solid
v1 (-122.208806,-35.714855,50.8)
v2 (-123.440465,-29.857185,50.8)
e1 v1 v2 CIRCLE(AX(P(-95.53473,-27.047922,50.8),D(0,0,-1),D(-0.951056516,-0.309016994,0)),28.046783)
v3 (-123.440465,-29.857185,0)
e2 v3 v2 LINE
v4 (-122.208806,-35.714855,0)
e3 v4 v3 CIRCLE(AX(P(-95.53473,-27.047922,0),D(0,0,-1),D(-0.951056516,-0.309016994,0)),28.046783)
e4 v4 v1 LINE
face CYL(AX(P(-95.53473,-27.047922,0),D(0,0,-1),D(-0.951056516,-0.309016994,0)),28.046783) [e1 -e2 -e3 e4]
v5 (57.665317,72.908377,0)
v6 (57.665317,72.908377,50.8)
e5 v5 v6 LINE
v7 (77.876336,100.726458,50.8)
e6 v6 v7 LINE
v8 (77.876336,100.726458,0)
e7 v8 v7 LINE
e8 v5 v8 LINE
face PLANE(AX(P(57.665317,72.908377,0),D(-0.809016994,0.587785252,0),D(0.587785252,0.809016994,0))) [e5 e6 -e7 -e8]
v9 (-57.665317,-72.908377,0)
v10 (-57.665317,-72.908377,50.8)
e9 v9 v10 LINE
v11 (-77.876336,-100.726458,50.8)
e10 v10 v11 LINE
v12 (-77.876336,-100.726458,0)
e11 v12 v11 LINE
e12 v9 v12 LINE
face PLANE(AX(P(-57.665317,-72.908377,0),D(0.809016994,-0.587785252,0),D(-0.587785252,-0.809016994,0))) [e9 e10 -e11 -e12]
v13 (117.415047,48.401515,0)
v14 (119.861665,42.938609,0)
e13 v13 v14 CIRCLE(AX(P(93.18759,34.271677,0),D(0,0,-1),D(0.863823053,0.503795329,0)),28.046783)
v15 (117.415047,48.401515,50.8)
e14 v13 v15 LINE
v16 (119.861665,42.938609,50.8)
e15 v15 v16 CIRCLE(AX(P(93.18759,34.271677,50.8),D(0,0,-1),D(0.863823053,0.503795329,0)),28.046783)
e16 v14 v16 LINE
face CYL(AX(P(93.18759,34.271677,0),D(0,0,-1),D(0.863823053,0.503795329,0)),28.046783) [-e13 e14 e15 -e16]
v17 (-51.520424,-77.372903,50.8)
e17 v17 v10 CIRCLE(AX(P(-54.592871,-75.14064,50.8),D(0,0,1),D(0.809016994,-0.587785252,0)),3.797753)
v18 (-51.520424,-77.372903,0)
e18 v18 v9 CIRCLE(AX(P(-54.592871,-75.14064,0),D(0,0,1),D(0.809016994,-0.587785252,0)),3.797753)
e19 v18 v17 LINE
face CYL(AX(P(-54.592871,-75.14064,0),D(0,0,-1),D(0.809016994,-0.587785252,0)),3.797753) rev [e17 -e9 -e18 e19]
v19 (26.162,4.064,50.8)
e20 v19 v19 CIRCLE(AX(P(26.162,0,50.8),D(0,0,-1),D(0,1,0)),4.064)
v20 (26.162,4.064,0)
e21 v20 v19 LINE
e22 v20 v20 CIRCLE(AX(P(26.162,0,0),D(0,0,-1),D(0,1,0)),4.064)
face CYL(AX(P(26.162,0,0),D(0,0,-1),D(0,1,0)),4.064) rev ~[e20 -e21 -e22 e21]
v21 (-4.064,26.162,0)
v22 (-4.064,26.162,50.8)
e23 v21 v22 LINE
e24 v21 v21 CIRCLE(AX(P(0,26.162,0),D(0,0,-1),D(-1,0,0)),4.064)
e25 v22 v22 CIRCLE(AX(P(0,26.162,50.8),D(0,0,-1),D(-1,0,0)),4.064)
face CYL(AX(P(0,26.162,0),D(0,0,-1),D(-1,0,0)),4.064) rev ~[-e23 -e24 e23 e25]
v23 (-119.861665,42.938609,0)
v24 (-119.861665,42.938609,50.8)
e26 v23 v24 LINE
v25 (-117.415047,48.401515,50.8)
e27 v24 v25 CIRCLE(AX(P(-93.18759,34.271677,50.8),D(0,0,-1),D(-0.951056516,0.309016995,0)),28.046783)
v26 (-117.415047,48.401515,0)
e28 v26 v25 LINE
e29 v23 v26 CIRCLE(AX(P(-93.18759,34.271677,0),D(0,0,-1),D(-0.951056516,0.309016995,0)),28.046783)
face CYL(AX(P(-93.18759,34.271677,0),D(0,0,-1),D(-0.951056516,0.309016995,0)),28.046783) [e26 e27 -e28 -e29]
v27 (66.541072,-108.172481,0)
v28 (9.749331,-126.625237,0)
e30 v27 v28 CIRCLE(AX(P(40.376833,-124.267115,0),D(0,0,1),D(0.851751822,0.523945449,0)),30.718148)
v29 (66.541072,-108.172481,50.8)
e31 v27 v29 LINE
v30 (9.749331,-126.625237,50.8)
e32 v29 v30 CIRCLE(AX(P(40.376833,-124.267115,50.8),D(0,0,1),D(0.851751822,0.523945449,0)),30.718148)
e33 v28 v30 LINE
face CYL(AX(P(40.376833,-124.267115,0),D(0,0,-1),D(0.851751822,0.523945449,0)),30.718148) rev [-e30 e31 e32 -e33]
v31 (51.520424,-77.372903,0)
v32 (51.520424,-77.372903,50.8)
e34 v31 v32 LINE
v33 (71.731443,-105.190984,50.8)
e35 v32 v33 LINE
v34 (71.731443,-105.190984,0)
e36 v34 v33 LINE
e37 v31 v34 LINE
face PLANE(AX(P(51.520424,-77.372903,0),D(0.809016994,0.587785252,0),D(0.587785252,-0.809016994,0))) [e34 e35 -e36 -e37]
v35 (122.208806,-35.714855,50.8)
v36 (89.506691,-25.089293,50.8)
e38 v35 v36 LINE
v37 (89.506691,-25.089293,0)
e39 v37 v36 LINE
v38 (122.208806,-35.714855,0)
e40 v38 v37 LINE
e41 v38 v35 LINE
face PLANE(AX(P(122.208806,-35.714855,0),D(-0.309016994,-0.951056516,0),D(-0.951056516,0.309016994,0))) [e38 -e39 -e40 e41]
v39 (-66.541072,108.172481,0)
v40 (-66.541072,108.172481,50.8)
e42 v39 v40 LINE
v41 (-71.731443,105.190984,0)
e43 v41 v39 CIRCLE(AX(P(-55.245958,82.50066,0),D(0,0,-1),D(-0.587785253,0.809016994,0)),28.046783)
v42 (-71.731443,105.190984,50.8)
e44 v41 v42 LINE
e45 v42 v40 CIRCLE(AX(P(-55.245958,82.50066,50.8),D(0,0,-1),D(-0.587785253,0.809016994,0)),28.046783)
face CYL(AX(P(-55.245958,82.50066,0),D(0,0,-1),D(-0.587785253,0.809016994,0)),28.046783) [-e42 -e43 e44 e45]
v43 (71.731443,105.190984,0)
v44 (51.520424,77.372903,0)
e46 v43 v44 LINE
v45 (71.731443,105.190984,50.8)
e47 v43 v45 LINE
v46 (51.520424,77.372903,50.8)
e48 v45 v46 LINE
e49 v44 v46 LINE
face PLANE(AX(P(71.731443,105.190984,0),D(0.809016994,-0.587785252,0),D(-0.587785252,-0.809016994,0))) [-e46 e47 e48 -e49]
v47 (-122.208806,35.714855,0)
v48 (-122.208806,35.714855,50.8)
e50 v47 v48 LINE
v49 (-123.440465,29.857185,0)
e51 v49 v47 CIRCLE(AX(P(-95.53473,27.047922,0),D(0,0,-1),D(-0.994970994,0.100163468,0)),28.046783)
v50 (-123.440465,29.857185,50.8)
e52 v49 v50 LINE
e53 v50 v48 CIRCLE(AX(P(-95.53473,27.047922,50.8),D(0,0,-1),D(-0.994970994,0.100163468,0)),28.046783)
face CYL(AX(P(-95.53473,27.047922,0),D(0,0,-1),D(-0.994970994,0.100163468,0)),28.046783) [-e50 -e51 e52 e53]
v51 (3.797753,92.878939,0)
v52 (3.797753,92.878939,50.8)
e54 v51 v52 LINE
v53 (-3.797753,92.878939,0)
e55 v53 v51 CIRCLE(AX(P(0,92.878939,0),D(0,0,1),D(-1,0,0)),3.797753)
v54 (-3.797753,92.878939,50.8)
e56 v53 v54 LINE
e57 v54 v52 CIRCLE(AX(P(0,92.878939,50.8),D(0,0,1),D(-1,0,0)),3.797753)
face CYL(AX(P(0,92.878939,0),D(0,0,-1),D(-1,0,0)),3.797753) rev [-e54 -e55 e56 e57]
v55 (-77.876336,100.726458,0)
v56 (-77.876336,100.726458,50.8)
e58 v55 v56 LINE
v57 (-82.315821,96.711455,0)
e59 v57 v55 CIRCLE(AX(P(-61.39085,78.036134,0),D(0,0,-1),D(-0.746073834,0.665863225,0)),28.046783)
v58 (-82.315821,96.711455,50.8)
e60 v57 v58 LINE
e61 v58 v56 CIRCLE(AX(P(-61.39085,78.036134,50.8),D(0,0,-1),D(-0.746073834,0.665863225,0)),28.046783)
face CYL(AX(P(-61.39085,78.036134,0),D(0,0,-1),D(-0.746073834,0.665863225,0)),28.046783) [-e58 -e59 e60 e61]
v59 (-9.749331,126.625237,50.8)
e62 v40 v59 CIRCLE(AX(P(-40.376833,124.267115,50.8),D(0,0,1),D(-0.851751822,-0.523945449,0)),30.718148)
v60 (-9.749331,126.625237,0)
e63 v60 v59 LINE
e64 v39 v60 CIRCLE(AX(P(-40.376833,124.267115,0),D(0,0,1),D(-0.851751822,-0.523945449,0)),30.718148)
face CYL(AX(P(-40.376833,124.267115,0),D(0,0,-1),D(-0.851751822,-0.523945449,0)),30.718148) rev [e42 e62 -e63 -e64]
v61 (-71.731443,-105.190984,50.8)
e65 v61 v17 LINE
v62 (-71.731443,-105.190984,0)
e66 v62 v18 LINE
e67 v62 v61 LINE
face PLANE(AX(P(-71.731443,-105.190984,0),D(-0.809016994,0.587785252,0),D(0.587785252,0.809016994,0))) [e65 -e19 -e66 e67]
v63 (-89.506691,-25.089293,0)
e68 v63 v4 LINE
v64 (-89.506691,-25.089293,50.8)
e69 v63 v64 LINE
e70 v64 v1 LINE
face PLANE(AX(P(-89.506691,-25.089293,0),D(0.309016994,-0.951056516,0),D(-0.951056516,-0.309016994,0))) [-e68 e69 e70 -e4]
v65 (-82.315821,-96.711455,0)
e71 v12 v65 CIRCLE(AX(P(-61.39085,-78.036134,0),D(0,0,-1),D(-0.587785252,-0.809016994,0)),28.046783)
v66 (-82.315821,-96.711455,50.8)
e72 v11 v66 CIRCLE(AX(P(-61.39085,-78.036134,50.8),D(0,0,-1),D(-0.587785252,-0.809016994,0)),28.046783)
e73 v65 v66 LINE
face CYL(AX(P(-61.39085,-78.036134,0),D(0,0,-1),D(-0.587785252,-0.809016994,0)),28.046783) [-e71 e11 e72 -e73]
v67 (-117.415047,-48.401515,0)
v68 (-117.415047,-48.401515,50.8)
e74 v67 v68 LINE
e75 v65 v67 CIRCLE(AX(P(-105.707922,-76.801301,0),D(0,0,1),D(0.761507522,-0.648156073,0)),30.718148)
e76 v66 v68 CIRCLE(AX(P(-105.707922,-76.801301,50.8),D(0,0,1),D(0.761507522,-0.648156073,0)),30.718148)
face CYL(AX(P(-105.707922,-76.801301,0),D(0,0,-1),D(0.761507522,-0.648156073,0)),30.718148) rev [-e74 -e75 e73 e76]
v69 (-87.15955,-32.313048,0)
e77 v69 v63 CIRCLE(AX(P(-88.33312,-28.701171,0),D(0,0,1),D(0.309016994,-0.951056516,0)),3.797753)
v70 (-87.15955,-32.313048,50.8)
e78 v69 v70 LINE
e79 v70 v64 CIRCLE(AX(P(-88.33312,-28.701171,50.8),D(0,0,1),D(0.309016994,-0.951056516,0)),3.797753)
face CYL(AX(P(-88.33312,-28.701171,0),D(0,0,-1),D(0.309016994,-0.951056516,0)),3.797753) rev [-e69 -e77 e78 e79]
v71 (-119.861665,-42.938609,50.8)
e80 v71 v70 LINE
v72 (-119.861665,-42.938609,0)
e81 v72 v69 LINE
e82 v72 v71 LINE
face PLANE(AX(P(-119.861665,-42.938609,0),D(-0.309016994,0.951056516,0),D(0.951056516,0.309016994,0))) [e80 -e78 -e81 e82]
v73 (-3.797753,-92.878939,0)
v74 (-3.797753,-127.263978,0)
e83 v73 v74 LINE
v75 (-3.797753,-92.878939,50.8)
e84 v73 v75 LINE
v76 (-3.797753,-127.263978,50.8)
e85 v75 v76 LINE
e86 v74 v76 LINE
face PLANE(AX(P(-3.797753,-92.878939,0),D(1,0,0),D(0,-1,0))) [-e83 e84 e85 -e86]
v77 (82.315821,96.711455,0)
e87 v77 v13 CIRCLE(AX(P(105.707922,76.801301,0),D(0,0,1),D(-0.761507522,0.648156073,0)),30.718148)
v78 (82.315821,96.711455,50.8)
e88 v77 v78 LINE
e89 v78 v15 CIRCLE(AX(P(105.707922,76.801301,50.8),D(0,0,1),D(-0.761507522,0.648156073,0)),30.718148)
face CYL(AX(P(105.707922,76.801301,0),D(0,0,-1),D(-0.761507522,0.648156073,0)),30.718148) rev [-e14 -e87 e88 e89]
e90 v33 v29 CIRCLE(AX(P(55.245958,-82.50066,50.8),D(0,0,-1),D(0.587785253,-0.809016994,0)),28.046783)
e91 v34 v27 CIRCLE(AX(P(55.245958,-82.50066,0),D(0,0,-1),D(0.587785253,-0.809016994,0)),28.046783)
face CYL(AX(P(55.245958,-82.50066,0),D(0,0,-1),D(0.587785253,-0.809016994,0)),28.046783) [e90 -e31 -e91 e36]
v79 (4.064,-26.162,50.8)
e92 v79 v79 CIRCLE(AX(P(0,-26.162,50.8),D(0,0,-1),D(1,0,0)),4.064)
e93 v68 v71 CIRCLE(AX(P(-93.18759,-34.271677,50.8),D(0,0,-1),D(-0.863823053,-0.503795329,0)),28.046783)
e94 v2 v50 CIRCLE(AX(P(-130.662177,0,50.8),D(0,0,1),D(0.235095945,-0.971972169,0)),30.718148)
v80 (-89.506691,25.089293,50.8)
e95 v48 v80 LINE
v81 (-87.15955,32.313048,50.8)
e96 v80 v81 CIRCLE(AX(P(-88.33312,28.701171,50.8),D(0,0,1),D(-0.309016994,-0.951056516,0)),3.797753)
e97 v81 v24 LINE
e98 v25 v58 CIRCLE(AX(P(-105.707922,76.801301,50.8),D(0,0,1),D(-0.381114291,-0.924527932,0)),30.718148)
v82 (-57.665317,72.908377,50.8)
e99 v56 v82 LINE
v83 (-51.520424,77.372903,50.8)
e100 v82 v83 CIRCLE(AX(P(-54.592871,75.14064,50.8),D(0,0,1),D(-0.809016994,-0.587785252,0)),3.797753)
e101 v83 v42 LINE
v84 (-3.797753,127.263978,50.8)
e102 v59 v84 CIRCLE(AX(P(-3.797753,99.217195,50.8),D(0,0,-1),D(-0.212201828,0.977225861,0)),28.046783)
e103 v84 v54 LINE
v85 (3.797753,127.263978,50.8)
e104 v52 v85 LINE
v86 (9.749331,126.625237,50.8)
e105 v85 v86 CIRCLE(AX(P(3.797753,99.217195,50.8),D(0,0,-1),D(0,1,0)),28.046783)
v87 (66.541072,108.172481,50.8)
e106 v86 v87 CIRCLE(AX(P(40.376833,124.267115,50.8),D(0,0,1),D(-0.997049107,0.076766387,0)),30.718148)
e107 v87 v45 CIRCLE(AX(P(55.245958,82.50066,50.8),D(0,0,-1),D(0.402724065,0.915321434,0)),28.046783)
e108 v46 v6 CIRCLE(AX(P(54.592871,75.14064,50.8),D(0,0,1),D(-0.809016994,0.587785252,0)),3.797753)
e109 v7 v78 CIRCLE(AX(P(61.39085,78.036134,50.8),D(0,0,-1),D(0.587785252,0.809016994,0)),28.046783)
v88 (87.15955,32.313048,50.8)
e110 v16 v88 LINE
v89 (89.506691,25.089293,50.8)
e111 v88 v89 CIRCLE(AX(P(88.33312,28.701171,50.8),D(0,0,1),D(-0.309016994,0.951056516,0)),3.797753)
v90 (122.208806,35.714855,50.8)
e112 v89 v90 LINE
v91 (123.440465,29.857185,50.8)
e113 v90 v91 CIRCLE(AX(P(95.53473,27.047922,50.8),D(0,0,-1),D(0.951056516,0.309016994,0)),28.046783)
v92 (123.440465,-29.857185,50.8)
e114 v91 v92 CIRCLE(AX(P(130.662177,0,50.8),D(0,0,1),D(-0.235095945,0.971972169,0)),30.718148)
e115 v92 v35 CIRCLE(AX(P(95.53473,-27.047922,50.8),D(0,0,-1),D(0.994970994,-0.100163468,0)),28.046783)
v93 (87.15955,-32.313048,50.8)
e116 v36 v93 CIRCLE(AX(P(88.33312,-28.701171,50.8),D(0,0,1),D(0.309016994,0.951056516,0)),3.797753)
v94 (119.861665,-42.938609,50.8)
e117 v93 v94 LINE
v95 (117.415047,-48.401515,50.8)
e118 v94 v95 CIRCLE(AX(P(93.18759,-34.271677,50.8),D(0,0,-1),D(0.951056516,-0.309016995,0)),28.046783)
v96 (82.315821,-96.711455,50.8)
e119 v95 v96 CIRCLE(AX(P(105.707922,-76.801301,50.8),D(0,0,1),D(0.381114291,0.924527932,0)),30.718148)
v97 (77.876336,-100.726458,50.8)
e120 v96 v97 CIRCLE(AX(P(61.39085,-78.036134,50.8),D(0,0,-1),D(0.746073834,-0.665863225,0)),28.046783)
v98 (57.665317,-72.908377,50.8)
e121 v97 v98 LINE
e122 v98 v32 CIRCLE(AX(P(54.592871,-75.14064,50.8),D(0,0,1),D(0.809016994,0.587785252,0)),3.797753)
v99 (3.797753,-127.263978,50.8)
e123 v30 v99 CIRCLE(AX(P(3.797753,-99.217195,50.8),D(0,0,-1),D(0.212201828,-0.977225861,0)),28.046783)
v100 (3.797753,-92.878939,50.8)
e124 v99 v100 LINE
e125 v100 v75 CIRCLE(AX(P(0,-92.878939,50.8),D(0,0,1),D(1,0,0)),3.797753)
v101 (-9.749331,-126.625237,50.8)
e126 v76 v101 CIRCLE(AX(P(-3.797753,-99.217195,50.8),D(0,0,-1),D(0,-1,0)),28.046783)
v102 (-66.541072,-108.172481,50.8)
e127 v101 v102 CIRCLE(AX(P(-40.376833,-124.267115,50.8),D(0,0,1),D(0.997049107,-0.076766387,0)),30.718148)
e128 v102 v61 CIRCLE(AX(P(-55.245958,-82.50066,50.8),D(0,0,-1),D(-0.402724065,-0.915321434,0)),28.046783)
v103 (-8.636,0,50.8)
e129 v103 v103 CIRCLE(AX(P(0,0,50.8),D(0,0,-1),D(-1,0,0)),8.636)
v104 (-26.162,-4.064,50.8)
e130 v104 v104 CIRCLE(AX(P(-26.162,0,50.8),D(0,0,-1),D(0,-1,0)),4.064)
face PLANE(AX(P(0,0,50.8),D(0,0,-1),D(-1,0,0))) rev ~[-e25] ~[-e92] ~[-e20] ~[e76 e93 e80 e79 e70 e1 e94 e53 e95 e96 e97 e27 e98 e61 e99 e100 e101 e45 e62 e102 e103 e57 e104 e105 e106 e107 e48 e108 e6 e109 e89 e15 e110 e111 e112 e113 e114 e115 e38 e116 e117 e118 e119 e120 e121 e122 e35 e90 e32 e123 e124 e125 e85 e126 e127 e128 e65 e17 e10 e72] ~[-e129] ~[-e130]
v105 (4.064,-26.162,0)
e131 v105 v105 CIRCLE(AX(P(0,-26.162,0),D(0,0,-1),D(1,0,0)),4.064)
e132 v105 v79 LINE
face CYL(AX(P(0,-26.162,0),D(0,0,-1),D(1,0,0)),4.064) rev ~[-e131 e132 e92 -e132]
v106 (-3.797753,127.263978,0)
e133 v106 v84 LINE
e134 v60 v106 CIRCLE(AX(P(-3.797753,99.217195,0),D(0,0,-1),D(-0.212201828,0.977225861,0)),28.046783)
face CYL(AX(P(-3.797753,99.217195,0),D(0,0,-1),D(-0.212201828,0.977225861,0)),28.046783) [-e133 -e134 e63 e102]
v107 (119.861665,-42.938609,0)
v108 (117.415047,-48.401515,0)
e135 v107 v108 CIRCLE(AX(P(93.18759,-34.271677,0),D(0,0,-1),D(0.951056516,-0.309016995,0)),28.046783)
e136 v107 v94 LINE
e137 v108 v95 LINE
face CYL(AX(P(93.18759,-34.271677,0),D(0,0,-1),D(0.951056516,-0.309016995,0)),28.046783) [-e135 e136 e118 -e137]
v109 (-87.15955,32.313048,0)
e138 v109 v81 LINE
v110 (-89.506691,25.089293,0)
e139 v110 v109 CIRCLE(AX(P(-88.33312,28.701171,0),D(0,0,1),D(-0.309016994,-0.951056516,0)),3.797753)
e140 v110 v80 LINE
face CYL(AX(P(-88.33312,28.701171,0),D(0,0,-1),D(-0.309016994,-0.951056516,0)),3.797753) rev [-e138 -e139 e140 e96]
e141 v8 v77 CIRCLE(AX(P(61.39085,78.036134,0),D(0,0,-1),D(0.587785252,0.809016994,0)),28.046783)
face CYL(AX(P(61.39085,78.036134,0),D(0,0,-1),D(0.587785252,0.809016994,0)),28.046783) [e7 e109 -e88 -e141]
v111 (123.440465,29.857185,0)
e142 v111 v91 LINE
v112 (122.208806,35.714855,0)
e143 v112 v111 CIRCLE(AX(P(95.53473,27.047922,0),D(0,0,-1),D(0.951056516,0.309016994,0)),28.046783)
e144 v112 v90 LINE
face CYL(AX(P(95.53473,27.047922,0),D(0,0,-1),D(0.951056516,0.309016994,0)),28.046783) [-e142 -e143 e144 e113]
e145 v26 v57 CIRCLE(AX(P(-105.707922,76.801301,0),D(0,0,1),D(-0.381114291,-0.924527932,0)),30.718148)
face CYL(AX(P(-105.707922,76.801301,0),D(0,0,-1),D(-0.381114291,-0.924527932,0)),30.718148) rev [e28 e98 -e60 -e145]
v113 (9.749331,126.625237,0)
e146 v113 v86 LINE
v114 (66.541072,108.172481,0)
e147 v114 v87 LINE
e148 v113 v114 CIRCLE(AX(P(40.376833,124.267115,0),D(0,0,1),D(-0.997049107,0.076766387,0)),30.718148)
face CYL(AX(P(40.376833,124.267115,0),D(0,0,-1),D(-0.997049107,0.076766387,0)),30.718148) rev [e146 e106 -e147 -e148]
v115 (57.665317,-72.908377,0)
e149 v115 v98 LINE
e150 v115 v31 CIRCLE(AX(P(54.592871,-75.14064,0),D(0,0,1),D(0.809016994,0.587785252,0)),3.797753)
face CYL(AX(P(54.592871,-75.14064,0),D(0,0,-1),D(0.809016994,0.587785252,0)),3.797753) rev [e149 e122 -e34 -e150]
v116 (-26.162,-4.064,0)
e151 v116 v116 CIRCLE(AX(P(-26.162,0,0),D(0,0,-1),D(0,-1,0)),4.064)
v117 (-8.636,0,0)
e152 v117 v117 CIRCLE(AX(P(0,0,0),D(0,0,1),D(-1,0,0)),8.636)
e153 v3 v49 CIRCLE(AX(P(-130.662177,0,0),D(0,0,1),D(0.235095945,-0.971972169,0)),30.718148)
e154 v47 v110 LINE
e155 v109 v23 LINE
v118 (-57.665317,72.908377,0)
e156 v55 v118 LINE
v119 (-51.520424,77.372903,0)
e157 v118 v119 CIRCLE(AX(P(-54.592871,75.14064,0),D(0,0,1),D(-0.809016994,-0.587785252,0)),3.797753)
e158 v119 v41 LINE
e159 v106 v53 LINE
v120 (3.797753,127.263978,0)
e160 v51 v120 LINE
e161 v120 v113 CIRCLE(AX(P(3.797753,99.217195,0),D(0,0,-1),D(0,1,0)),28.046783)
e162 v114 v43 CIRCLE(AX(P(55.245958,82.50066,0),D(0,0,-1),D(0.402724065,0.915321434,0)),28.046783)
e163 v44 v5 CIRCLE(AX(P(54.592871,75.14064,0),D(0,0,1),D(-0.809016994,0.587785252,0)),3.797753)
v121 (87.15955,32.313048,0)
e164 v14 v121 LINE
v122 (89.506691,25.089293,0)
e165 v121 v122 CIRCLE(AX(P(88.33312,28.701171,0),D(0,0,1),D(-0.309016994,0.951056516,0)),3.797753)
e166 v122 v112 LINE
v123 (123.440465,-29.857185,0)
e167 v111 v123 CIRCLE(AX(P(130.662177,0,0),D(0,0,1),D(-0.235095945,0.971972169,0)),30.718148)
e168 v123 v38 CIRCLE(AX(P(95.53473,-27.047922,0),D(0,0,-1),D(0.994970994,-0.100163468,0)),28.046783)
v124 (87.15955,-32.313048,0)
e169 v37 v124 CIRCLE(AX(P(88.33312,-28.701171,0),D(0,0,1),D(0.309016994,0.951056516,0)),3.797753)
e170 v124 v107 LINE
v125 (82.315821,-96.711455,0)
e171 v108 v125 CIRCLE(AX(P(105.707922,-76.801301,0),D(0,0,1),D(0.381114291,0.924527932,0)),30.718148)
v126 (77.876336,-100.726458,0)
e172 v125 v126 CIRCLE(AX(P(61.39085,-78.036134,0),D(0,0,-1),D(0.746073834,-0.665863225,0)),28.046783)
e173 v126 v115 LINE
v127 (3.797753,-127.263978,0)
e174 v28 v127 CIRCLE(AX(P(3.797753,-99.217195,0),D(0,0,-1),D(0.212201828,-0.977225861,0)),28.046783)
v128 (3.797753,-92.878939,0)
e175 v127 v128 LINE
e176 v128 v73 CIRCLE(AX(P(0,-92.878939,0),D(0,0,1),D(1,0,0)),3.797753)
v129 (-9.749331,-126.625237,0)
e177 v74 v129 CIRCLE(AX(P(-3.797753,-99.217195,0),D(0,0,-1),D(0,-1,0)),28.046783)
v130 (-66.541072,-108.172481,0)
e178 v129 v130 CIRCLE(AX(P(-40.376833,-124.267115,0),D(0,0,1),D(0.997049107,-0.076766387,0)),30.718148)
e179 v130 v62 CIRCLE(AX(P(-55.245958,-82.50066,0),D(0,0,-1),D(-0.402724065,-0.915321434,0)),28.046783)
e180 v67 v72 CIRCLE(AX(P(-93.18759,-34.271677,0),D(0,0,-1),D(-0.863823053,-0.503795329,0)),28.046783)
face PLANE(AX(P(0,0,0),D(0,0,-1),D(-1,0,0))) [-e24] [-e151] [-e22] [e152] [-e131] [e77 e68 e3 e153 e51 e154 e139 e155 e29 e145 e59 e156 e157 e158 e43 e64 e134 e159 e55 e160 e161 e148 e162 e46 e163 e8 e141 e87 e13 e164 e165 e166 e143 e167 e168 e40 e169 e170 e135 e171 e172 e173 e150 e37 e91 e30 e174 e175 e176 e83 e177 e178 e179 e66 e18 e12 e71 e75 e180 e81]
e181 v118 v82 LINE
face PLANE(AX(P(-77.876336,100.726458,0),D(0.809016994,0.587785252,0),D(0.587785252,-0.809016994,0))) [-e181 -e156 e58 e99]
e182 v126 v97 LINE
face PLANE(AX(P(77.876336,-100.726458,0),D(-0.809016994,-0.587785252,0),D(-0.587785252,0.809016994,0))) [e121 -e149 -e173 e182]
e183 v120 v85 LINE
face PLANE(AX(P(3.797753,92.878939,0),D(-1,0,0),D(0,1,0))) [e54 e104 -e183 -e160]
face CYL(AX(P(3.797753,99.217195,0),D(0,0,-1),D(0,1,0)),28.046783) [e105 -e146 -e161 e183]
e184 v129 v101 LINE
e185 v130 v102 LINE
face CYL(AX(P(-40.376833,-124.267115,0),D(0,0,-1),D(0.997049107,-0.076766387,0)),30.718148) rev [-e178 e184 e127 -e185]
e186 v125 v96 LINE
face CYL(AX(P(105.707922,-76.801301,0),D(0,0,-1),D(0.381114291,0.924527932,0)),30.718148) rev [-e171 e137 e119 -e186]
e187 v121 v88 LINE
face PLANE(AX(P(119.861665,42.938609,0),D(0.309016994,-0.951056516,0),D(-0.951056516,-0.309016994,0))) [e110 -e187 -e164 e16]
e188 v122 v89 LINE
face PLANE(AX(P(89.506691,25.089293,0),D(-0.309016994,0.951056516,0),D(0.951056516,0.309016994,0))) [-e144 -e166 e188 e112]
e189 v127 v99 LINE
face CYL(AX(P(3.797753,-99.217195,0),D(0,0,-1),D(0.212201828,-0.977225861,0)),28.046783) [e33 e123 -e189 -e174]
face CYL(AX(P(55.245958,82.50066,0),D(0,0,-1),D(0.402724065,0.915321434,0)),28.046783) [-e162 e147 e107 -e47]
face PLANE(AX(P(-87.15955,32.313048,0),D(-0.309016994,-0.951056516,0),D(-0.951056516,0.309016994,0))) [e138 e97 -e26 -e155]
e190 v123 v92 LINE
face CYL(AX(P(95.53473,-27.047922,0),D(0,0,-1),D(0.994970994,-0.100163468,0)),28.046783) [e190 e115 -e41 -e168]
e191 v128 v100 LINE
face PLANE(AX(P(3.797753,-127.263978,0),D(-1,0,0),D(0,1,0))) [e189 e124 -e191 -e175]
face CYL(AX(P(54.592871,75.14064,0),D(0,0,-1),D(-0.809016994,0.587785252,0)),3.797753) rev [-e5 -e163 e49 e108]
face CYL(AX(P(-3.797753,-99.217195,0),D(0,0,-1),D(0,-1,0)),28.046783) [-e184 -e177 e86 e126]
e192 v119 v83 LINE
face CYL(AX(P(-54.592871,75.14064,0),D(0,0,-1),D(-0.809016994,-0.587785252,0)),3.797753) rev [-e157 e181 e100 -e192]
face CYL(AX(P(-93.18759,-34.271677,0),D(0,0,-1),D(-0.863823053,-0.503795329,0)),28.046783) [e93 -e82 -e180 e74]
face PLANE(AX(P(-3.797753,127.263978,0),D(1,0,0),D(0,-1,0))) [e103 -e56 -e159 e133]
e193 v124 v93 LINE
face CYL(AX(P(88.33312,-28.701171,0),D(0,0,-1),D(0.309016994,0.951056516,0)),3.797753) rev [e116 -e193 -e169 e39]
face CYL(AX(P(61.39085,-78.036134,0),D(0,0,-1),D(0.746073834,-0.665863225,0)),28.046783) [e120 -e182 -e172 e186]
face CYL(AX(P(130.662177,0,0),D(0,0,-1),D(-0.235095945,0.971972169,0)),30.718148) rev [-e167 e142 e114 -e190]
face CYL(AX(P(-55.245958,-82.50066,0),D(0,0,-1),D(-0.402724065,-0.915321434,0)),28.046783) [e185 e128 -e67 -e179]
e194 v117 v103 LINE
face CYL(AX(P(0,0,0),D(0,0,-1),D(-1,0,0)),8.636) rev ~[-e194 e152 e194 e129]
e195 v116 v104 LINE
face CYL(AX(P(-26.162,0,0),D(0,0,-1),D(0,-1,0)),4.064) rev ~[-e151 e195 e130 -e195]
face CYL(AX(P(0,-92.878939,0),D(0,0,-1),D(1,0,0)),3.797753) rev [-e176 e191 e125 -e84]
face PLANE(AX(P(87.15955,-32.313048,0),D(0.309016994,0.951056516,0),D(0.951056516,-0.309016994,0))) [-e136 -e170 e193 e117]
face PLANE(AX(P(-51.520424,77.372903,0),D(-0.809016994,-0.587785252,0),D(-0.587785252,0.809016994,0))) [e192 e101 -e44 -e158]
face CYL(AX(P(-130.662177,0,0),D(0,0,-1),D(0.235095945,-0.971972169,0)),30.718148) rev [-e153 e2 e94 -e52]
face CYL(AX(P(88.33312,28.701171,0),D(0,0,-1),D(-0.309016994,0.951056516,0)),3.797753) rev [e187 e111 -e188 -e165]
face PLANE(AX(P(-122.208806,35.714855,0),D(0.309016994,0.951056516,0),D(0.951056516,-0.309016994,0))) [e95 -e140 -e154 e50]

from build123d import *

# Parameters (mm, degrees)
BOSS_EXTRUDE1_DEPTH = 50.8
SKETCH2_R           = 8.636
SKETCH2_R_2         = 4.064
CUT_EXTRUDE1_DEPTH  = 50.8
CIRPATTERN1_COUNT   = 4


with BuildPart() as part:
    # Sketch1 → Boss-Extrude1 (new body)
    with BuildSketch(Plane.XY):
        with BuildLine():
            Line((-3.797752579, 127.26397791), (-3.797752579, 92.878939343))
            ThreePointArc((-3.797752579, 92.878939343), (0, 89.081186764), (3.797752579, 92.878939343))
            Line((3.797752579, 92.878939343), (3.797752579, 127.26397791))
            ThreePointArc((3.797752579, 127.26397791), (6.790630722, 127.103835386), (9.749331178, 126.62523659))
            ThreePointArc((9.749331178, 126.62523659), (30.88440355, 95.052420362), (66.541072029, 108.172481405))
            ThreePointArc((66.541072029, 108.172481405), (69.216024294, 106.82059547), (71.731442986, 105.190983859))
            Line((71.731442986, 105.190983859), (51.520424417, 77.372903306))
            ThreePointArc((51.520424417, 77.372903306), (52.360607836, 72.068193971), (57.665317172, 72.90837739))
            Line((57.665317172, 72.90837739), (77.876335741, 100.726457943))
            ThreePointArc((77.876335741, 100.726457943), (80.203495606, 98.837730286), (82.315821243, 96.711455232))
            ThreePointArc((82.315821243, 96.711455232), (80.856418217, 58.745626497), (117.415047369, 48.40151497))
            ThreePointArc((117.415047369, 48.40151497), (118.784510595, 45.735518782), (119.861665394, 42.938609284))
            Line((119.861665394, 42.938609284), (87.159550401, 32.313048015))
            ThreePointArc((87.159550401, 32.313048015), (84.721243151, 27.527600589), (89.506690576, 25.089293339))
            Line((89.506690576, 25.089293339), (122.208805569, 35.714854608))
            ThreePointArc((122.208805569, 35.714854608), (122.981351186, 32.818971587), (123.440465405, 29.857185076))
            ThreePointArc((123.440465405, 29.857185076), (99.944029333, 0), (123.440465405, -29.857185076))
            ThreePointArc((123.440465405, -29.857185076), (122.981351186, -32.818971587), (122.208805569, -35.714854608))
            Line((122.208805569, -35.714854608), (89.506690576, -25.089293339))
            ThreePointArc((89.506690576, -25.089293339), (84.721243151, -27.527600589), (87.159550401, -32.313048015))
            Line((87.159550401, -32.313048015), (119.861665394, -42.938609284))
            ThreePointArc((119.861665394, -42.938609284), (118.784510595, -45.735518782), (117.415047369, -48.40151497))
            ThreePointArc((117.415047369, -48.40151497), (80.856418217, -58.745626497), (82.315821243, -96.711455232))
            ThreePointArc((82.315821243, -96.711455232), (80.203495606, -98.837730286), (77.876335741, -100.726457943))
            Line((77.876335741, -100.726457943), (57.665317172, -72.90837739))
            ThreePointArc((57.665317172, -72.90837739), (52.360607836, -72.068193971), (51.520424417, -77.372903306))
            Line((51.520424417, -77.372903306), (71.731442986, -105.190983859))
            ThreePointArc((71.731442986, -105.190983859), (69.216024294, -106.82059547), (66.541072029, -108.172481405))
            ThreePointArc((66.541072029, -108.172481405), (30.88440355, -95.052420362), (9.749331178, -126.62523659))
            ThreePointArc((9.749331178, -126.62523659), (6.790630722, -127.103835386), (3.797752579, -127.26397791))
            Line((3.797752579, -127.26397791), (3.797752579, -92.878939343))
            ThreePointArc((3.797752579, -92.878939343), (0, -89.081186764), (-3.797752579, -92.878939343))
            Line((-3.797752579, -92.878939343), (-3.797752579, -127.26397791))
            ThreePointArc((-3.797752579, -127.26397791), (-6.790630722, -127.103835386), (-9.749331178, -126.62523659))
            ThreePointArc((-9.749331178, -126.62523659), (-30.88440355, -95.052420362), (-66.541072029, -108.172481405))
            ThreePointArc((-66.541072029, -108.172481405), (-69.216024294, -106.82059547), (-71.731442986, -105.190983859))
            Line((-71.731442986, -105.190983859), (-51.520424417, -77.372903306))
            ThreePointArc((-51.520424417, -77.372903306), (-52.360607836, -72.068193971), (-57.665317172, -72.90837739))
            Line((-57.665317172, -72.90837739), (-77.876335741, -100.726457943))
            ThreePointArc((-77.876335741, -100.726457943), (-80.203495606, -98.837730286), (-82.315821243, -96.711455232))
            ThreePointArc((-82.315821243, -96.711455232), (-80.856418217, -58.745626497), (-117.415047369, -48.40151497))
            ThreePointArc((-117.415047369, -48.40151497), (-118.784510595, -45.735518782), (-119.861665394, -42.938609284))
            Line((-119.861665394, -42.938609284), (-87.159550401, -32.313048015))
            ThreePointArc((-87.159550401, -32.313048015), (-84.721243151, -27.527600589), (-89.506690576, -25.089293339))
            Line((-89.506690576, -25.089293339), (-122.208805569, -35.714854608))
            ThreePointArc((-122.208805569, -35.714854608), (-122.981351186, -32.818971587), (-123.440465405, -29.857185076))
            ThreePointArc((-123.440465405, -29.857185076), (-99.944029333, 0), (-123.440465405, 29.857185076))
            ThreePointArc((-123.440465405, 29.857185076), (-122.981351186, 32.818971587), (-122.208805569, 35.714854608))
            Line((-122.208805569, 35.714854608), (-89.506690576, 25.089293339))
            ThreePointArc((-89.506690576, 25.089293339), (-84.721243151, 27.527600589), (-87.159550401, 32.313048015))
            Line((-87.159550401, 32.313048015), (-119.861665394, 42.938609284))
            ThreePointArc((-119.861665394, 42.938609284), (-118.784510595, 45.735518782), (-117.415047369, 48.40151497))
            ThreePointArc((-117.415047369, 48.40151497), (-80.856418217, 58.745626497), (-82.315821243, 96.711455232))
            ThreePointArc((-82.315821243, 96.711455232), (-80.203495606, 98.837730286), (-77.876335741, 100.726457943))
            Line((-77.876335741, 100.726457943), (-57.665317172, 72.90837739))
            ThreePointArc((-57.665317172, 72.90837739), (-52.360607836, 72.068193971), (-51.520424417, 77.372903306))
            Line((-51.520424417, 77.372903306), (-71.731442986, 105.190983859))
            ThreePointArc((-71.731442986, 105.190983859), (-69.216024294, 106.82059547), (-66.541072029, 108.172481405))
            ThreePointArc((-66.541072029, 108.172481405), (-30.88440355, 95.052420362), (-9.749331178, 126.62523659))
            ThreePointArc((-9.749331178, 126.62523659), (-6.790630722, 127.103835386), (-3.797752579, 127.26397791))
        make_face()
    extrude(amount=BOSS_EXTRUDE1_DEPTH)

    # Sketch2 → Cut-Extrude1 (cut)
    with BuildSketch(Plane(origin=(0, 0, 0), x_dir=(-1, 0, 0), z_dir=(0, 0, -1))):
        Circle(SKETCH2_R)
        with Locations((0, 26.162)):
            Circle(SKETCH2_R_2)
    cut_extrude1 = extrude(amount=-CUT_EXTRUDE1_DEPTH, mode=Mode.SUBTRACT)

    # CirPattern1: Cut-Extrude1 ×4 about axis
    cirpattern1_axis = Axis((0, 0, 50.8), (0, 0, -1))
    for i in range(1, CIRPATTERN1_COUNT):
        add(cut_extrude1.rotate(cirpattern1_axis, i * 360 / CIRPATTERN1_COUNT), mode=Mode.SUBTRACT)


solid = part.part
